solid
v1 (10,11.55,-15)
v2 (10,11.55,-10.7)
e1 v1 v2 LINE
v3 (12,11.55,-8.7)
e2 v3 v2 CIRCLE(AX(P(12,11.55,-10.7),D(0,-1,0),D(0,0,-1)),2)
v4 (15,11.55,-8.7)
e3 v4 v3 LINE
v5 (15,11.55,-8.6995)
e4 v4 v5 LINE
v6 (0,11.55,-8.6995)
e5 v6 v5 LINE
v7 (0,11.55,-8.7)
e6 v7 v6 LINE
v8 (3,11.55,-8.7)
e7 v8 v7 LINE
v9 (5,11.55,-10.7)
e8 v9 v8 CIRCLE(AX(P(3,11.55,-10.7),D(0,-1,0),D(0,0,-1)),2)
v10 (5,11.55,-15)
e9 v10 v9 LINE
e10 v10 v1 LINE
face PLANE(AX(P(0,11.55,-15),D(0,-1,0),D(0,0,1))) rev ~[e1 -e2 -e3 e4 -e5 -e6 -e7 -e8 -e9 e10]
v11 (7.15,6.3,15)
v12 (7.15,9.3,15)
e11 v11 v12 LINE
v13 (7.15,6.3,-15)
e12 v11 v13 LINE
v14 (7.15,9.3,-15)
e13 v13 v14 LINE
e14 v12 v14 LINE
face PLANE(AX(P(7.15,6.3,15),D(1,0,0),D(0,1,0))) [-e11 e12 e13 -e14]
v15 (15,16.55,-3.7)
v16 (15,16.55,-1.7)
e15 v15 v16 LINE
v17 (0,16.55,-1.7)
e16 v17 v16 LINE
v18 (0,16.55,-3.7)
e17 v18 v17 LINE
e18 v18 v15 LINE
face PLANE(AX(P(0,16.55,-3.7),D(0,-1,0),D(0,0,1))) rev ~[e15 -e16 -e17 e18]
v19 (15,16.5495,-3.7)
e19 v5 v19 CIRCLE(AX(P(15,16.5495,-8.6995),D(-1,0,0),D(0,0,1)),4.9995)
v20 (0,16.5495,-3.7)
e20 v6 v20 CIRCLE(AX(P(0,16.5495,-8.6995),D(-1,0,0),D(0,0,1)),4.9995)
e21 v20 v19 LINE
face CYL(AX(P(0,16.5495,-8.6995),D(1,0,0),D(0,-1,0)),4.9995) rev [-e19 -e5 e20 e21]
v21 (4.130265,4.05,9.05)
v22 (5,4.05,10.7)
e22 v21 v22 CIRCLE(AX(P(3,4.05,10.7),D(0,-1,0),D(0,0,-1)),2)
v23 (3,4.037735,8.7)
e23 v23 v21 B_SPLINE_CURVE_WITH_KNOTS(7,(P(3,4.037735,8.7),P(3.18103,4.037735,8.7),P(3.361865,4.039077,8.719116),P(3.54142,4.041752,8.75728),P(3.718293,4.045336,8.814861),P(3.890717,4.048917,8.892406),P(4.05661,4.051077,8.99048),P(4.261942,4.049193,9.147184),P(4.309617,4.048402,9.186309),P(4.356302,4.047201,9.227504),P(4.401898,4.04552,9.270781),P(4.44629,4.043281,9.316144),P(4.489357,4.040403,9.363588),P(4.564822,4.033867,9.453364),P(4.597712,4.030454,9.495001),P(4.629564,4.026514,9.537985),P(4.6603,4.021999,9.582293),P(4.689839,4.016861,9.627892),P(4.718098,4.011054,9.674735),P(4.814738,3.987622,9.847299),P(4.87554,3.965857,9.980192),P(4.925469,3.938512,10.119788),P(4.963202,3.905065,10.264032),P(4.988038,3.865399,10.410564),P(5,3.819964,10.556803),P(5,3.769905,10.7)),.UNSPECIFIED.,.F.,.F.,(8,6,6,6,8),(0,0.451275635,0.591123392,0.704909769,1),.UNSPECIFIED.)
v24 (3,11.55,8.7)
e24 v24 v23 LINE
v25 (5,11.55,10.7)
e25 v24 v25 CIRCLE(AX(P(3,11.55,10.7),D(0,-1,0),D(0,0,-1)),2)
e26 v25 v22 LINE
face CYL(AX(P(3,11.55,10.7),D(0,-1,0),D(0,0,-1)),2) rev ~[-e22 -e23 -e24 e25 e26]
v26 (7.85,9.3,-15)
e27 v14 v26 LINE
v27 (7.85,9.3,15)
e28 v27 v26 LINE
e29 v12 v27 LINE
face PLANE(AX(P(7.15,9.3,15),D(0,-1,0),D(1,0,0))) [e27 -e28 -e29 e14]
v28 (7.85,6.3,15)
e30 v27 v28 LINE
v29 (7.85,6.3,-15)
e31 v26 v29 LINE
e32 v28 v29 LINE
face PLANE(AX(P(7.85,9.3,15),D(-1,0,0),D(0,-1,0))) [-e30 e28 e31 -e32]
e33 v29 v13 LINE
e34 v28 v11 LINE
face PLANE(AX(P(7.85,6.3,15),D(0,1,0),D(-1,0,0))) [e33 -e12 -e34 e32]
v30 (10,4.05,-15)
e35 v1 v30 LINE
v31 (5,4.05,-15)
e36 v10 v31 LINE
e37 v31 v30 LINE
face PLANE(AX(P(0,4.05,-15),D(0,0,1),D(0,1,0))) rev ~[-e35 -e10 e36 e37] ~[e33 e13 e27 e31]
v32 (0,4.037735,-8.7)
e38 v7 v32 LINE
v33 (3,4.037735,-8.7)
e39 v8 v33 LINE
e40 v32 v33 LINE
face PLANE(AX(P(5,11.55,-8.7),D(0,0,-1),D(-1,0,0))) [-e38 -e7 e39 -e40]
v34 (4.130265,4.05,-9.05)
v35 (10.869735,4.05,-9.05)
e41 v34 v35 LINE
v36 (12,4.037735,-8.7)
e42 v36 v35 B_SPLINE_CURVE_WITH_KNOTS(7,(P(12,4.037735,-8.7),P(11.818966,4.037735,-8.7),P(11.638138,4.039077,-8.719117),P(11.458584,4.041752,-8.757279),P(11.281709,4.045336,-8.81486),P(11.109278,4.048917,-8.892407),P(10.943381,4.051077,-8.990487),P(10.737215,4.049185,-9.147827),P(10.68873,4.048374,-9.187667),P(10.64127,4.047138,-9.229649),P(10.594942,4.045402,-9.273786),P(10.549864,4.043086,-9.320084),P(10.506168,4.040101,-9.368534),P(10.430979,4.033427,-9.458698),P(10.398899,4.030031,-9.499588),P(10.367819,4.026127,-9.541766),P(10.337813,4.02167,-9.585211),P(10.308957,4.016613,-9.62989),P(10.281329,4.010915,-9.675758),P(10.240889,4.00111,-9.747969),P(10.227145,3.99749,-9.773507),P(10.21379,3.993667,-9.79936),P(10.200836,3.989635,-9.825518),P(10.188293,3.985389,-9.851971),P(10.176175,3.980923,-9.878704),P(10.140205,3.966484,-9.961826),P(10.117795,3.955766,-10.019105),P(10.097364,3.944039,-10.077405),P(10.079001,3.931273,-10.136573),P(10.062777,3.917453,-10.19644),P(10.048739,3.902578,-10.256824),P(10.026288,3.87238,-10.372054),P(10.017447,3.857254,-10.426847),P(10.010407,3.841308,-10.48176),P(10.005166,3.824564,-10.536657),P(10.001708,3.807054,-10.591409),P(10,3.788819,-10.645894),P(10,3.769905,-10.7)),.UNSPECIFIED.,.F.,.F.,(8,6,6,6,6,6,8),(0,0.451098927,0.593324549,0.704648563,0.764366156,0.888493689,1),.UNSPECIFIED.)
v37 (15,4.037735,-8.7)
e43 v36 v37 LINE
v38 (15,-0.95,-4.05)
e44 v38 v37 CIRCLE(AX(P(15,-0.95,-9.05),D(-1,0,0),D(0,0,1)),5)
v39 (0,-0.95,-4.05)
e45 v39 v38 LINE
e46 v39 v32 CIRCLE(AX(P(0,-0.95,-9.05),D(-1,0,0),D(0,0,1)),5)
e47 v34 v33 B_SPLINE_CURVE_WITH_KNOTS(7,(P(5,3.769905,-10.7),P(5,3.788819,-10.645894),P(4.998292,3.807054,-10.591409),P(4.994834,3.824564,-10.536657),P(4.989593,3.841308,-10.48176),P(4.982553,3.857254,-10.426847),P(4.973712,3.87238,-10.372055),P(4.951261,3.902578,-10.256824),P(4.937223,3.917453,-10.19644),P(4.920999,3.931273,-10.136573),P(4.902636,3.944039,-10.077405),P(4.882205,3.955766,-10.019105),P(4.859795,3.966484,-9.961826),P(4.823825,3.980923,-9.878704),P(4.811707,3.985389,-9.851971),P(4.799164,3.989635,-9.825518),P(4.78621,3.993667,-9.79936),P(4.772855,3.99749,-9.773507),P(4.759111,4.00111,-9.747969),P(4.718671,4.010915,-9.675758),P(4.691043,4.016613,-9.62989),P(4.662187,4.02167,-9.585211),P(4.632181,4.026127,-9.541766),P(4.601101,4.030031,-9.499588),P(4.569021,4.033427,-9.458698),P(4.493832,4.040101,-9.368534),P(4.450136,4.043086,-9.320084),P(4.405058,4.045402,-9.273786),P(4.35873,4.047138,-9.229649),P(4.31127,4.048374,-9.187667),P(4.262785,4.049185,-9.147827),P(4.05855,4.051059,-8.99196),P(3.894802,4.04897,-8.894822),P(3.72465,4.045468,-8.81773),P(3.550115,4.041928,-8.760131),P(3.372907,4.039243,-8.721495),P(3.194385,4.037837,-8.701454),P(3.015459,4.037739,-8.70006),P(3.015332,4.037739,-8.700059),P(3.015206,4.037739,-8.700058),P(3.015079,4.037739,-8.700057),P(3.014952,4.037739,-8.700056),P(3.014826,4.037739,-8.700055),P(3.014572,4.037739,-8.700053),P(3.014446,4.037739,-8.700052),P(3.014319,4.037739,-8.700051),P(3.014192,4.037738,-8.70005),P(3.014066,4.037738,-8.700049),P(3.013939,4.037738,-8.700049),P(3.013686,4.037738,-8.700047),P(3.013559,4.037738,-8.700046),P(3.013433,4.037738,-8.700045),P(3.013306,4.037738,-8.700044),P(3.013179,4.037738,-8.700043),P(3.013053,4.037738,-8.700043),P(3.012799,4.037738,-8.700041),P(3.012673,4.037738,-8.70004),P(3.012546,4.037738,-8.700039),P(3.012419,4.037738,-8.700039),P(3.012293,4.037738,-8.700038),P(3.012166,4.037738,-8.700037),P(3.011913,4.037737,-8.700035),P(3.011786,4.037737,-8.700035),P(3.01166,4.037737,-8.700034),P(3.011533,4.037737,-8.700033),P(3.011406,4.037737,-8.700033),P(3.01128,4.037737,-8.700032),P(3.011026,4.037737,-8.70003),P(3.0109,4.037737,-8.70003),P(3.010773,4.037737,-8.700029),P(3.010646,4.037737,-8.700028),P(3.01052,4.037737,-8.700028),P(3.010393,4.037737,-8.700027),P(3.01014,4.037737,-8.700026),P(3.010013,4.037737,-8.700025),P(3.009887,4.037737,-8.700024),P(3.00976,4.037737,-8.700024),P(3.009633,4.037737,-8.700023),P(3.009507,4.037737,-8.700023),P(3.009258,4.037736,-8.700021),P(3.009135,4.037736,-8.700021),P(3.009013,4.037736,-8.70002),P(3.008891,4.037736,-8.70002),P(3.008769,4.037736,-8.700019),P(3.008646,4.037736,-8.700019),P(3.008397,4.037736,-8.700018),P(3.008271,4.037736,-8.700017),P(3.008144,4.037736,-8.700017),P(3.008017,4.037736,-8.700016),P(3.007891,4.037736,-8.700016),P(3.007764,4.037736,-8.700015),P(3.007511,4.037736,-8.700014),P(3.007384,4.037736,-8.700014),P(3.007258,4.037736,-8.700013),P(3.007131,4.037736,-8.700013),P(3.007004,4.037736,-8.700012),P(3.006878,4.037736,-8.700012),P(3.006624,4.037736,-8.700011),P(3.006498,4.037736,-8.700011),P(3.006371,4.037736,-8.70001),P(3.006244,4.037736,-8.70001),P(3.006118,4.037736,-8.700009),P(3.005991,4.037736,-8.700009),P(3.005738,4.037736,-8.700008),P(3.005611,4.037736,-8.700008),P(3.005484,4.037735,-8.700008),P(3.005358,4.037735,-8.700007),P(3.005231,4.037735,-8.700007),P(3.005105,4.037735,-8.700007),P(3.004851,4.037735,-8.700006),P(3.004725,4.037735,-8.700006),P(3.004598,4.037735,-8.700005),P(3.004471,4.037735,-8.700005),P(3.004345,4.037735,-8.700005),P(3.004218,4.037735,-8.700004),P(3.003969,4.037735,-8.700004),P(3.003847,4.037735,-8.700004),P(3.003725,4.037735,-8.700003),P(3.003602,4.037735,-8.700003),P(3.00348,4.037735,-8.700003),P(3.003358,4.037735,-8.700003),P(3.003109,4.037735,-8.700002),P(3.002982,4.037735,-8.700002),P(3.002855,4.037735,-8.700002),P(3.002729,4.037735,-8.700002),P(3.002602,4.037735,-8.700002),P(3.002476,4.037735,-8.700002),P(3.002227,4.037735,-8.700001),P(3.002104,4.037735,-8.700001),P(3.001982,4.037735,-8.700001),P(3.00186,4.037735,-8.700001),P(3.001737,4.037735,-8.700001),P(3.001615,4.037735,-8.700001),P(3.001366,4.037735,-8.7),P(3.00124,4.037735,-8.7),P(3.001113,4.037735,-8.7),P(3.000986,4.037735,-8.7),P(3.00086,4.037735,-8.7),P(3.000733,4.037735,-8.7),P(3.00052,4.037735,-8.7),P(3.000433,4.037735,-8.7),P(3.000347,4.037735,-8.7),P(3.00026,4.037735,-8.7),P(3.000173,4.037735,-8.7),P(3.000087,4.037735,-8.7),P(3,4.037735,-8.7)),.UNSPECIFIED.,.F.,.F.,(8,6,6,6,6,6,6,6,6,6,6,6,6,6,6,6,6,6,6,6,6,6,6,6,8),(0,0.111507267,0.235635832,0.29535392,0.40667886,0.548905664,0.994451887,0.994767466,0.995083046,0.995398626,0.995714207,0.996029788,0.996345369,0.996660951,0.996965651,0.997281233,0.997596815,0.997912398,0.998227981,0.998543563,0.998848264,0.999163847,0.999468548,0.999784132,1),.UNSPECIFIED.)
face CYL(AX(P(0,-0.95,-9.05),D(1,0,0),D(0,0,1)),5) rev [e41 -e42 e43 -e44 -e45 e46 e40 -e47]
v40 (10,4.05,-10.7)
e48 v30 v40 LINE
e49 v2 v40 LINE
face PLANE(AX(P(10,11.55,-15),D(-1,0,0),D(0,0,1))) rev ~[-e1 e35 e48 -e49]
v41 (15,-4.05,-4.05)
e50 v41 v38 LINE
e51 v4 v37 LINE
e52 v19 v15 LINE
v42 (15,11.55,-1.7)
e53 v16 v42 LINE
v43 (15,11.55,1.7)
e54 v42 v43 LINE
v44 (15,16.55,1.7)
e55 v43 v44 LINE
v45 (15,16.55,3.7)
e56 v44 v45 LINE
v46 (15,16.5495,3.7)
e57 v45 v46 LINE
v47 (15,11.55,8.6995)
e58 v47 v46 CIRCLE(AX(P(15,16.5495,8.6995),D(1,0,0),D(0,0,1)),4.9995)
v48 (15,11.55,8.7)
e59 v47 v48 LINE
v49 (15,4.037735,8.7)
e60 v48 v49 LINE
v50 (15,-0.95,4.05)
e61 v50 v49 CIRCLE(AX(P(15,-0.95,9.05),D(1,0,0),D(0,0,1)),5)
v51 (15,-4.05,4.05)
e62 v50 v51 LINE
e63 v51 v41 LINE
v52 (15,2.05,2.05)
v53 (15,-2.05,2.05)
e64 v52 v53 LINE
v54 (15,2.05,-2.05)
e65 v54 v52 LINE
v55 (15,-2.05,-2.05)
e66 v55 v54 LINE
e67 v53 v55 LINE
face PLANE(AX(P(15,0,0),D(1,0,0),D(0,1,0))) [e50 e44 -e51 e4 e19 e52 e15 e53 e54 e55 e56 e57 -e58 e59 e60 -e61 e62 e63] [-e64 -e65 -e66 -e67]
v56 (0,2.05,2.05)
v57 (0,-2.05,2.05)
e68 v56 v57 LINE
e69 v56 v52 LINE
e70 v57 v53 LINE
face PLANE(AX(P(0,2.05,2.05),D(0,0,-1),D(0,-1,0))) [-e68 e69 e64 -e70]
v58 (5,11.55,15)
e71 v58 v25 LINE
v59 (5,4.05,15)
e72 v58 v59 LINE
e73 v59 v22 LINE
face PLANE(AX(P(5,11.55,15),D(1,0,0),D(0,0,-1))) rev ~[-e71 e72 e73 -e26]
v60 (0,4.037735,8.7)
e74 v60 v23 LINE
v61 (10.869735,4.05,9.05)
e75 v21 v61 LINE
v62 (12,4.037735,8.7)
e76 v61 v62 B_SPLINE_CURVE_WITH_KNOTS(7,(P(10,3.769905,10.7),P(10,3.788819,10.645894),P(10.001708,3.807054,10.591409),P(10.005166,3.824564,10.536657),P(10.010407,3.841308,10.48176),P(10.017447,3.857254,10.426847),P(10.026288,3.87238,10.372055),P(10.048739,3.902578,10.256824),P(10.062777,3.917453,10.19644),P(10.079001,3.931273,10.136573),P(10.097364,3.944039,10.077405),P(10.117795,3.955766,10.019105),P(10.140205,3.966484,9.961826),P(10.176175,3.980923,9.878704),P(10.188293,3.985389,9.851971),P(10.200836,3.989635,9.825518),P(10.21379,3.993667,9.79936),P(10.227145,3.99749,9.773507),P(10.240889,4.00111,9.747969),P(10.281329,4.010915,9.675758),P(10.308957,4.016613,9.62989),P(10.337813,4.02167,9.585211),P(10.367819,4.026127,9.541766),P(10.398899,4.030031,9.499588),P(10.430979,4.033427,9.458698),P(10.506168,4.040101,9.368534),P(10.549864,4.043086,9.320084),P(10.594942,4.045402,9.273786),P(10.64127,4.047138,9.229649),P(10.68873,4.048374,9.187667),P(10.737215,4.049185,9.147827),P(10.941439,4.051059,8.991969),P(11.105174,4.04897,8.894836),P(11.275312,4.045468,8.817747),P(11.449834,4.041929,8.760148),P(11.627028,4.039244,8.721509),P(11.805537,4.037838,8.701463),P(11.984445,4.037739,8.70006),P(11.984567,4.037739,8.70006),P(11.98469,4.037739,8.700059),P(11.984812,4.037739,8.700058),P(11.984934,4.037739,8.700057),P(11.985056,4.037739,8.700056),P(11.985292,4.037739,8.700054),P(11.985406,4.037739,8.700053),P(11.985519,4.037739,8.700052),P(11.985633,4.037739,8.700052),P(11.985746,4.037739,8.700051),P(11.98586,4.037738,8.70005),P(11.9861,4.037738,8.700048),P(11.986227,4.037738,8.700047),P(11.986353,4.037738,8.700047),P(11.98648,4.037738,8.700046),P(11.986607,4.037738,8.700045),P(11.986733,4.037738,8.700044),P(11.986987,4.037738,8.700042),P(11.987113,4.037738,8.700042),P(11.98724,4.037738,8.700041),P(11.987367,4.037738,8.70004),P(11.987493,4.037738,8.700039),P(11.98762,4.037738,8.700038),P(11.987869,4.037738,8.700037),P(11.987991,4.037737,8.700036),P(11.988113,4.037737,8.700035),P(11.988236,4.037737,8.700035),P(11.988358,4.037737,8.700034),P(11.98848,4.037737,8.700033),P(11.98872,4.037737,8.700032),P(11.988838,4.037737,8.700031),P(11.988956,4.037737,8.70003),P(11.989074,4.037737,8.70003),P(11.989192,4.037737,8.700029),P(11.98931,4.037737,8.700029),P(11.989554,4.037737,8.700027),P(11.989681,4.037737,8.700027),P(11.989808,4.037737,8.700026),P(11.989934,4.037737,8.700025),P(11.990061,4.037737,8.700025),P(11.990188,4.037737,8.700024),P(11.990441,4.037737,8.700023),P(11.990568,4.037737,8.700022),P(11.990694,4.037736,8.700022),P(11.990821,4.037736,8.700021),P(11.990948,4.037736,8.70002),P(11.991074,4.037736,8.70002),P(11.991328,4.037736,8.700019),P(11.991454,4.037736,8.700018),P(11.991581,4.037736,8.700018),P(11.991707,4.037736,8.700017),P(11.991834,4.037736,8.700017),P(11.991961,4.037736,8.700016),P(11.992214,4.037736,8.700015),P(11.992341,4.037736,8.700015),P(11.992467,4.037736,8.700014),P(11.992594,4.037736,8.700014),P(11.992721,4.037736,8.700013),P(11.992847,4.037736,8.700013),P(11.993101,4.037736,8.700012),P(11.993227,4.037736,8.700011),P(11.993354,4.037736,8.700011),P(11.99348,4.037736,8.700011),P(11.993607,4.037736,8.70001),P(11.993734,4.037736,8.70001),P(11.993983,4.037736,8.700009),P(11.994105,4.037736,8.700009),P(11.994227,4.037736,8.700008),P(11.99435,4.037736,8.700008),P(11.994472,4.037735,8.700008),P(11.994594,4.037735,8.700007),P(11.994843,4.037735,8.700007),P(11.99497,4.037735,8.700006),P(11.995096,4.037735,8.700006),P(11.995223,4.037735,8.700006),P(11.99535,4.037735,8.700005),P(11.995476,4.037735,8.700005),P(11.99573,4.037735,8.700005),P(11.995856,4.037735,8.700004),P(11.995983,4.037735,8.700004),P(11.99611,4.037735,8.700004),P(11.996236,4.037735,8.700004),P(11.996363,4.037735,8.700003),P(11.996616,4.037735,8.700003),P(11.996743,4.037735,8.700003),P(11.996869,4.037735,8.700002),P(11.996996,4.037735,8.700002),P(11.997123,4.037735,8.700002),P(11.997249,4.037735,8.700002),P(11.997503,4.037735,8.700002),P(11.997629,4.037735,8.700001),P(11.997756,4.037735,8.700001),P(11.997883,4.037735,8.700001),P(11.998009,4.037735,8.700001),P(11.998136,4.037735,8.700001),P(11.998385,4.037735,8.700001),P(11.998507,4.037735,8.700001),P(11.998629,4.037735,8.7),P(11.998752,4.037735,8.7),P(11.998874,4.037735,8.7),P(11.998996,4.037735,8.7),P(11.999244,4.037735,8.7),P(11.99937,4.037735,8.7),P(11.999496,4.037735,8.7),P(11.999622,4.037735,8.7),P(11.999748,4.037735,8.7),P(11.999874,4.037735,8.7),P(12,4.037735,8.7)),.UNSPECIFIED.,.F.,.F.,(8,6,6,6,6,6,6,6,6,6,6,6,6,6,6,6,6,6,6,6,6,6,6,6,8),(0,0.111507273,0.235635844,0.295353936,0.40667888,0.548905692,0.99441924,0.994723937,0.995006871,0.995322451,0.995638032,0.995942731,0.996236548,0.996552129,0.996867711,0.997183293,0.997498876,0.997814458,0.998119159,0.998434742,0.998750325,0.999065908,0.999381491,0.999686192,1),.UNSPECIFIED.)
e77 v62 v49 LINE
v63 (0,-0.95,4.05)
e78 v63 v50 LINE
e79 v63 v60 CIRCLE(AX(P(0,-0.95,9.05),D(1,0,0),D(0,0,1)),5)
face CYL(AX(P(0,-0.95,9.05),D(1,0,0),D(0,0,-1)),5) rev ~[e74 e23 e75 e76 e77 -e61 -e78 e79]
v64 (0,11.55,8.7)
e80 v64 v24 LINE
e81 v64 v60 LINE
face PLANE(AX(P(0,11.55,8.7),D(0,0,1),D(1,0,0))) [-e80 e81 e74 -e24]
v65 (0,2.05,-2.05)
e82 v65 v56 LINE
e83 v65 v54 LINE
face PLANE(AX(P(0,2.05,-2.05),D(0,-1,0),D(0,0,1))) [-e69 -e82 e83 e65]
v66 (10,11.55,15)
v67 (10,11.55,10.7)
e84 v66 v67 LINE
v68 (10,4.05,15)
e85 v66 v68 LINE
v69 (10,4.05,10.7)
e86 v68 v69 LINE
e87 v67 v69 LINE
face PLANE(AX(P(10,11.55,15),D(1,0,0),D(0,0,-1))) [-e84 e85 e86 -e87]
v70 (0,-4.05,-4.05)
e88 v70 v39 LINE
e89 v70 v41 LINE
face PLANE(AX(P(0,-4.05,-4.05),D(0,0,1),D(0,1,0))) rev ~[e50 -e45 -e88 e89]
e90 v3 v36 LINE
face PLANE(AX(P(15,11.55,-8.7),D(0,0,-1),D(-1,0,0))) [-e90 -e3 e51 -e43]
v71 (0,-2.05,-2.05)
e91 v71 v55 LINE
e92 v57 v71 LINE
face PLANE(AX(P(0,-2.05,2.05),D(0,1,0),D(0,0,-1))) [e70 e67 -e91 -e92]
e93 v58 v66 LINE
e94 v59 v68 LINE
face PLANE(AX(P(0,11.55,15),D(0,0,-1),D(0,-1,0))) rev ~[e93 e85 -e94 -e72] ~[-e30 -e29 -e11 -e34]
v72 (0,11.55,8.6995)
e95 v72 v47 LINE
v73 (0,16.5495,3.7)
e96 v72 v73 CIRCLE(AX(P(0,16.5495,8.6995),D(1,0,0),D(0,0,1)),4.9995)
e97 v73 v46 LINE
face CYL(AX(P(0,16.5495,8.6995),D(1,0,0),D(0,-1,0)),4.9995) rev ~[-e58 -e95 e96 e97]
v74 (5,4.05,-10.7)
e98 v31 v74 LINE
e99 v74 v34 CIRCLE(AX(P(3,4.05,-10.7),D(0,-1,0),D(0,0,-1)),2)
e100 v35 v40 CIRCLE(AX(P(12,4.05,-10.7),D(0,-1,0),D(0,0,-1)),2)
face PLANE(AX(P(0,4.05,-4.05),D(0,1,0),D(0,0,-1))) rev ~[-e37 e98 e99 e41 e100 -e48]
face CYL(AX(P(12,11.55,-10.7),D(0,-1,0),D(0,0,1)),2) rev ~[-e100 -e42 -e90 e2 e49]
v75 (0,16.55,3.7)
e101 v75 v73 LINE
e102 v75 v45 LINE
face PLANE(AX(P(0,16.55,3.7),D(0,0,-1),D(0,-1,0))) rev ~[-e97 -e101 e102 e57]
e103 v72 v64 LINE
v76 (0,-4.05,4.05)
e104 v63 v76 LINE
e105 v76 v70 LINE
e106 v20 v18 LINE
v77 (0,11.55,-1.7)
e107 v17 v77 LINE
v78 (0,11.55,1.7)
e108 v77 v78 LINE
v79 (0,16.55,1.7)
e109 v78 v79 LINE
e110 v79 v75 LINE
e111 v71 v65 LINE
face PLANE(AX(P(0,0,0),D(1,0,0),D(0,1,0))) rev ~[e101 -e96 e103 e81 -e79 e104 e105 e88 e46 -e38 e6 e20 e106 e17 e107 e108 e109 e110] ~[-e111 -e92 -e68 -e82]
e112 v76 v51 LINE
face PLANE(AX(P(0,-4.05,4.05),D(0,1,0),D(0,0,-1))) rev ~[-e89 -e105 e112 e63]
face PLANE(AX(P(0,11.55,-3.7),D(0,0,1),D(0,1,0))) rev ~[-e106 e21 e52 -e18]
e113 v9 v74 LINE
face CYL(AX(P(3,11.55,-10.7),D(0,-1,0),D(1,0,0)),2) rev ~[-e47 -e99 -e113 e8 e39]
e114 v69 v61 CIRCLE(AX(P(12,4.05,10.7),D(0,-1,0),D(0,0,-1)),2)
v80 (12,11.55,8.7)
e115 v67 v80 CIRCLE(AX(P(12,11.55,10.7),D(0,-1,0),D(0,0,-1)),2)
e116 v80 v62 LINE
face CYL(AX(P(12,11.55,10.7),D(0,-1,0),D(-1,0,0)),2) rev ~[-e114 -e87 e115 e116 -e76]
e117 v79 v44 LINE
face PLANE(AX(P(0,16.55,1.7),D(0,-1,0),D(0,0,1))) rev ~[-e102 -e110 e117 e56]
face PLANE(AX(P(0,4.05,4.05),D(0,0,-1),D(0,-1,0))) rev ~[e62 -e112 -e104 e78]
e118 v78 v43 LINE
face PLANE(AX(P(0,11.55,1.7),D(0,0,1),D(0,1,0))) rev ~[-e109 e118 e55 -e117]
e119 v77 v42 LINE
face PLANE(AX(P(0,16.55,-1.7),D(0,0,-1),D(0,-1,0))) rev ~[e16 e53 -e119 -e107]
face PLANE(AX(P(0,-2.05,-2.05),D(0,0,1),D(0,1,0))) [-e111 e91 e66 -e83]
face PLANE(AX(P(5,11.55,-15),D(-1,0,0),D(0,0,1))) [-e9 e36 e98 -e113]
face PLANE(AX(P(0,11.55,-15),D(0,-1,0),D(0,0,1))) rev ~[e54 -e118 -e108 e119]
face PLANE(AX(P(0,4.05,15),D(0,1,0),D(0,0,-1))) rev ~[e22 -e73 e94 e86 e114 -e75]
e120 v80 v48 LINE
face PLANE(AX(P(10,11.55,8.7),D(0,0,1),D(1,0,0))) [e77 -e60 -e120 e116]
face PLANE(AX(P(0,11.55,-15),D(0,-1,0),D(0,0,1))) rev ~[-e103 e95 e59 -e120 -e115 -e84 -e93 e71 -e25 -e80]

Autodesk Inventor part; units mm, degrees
ref_plane "YZ Plane" through (0, 0, 0) normal (1, 0, 0) x (0, 1, 0)
ref_plane "XZ Plane" through (0, 0, 0) normal (0, 1, 0) x (-1, 0, 0)
ref_plane "XY Plane" through (0, 0, 0) normal (0, 0, 1) x (1, 0, 0)
sketch "Sketch1" plane through (0, 0, 0) normal (1, 0, 0) x (0, 1, 0)
  line L0 (4.05, 4.05) -> (-4.05, 4.05)
  line L1 (-4.05, 4.05) -> (-4.05, -4.05)
  line L2 (-4.05, -4.05) -> (4.05, -4.05)
  line L3 (4.05, -4.05) -> (4.05, 4.05)
  line L4 (11.55, 15) -> (4.05, 15)
  line L5 (4.05, 15) -> (4.05, -15)
  line L6 (4.05, -15) -> (11.55, -15)
  line L7 (11.55, -15) -> (11.55, 15)
  line L8 (4.05, 4.05) -> (-4.05, -4.05) construction
  line L9 (4.05, -4.05) -> (-4.05, 4.05) construction
  line L10 (2.05, 2.05) -> (-2.05, 2.05)
  line L11 (-2.05, 2.05) -> (-2.05, -2.05)
  line L12 (-2.05, -2.05) -> (2.05, -2.05)
  line L13 (2.05, -2.05) -> (2.05, 2.05)
  line L14 (2.05, 2.05) -> (-2.05, -2.05) construction
  line L15 (-2.05, 2.05) -> (2.05, -2.05) construction
  point P0 (4.05, 4.05)
  point P1 (0, 0)
  point P2 (0, 0)
  point P3 (0, 0)
  dimension "d0" = 8.1
  dimension "d3" = 8.1
  dimension "d22" = 10.95
  dimension "d24" = 30
  dimension "d25" = 7.5
  dimension "d55" = 10.95
  dimension "d65" = 4.1
  dimension "d66" = 4.1
extrude "Extrusion1" add sketch "Sketch1" along normal blind 15
sketch "Sketch5" plane through (0, 4.05, 15) normal (0, 0, 1) x (1, 0, 0)
  line L0 (7.15, 5.25) -> (7.85, 5.25)
  line L1 (7.85, 5.25) -> (7.85, 2.25)
  line L2 (7.85, 2.25) -> (7.15, 2.25)
  line L3 (7.15, 2.25) -> (7.15, 5.25)
  line L4 (0, 0) -> (15, 0) projected
  line L5 (0, 7.5) -> (0, 0) projected
  point P0 (0, -4.05)
  dimension "d86" = 3
  dimension "d87" = 0.7
  dimension "d88" = 2.25
  dimension "d89" = 7.15
extrude "Extrusion4" cut sketch "Sketch5" against normal through all
fillet "Fillet3" radius 5 2 edges at (7.5, 4.05, 4.05) (7.5, 4.05, -4.05)
sketch "Sketch7" plane through (0, 0, 0) normal (-1, 0, 0) x (0, 0, 1)
  line L0 (3.7, 11.55) -> (1.7, 11.55)
  line L1 (1.7, 11.55) -> (1.7, 16.55)
  line L2 (1.7, 16.55) -> (3.7, 16.55)
  line L3 (3.7, 16.55) -> (3.7, 11.55)
  line L4 (3.7, 11.55) -> (1.7, 16.55) construction
  line L5 (1.7, 11.55) -> (3.7, 16.55) construction
  line L6 (-1.7, 11.55) -> (-3.7, 11.55)
  line L7 (-3.7, 11.55) -> (-3.7, 16.55)
  line L8 (-3.7, 16.55) -> (-1.7, 16.55)
  line L9 (-1.7, 16.55) -> (-1.7, 11.55)
  line L10 (-1.7, 11.55) -> (-3.7, 16.55) construction
  line L11 (-3.7, 11.55) -> (-1.7, 16.55) construction
  line L12 (-15, 11.55) -> (15, 11.55) projected
  point P0 (0, 0)
  point P1 (2.7, 14.05)
  point P2 (-2.7, 14.05)
  dimension "d77" = 5
  dimension "d78" = 2
  dimension "d79" = 2
  dimension "d80" = 3.4
  dimension "d82" = 1.7
extrude "Extrusion5" add sketch "Sketch7" against normal up to surface (15 mm away)
fillet "Fillet4" radius 5 2 edges at (7.5, 11.55, 3.7) (7.5, 11.55, -3.7)
sketch "Sketch8" plane through (0, 11.55, -15) normal (0, 1, 0) x (1, 0, 0)
  line L0 (0, -23.7) -> (15, -23.7) projected
  line L1 (15, -30) -> (10, -30)
  line L2 (10, -30) -> (10, -23.7)
  line L3 (10, -23.7) -> (15, -23.7)
  line L4 (15, -23.7) -> (15, -30)
  line L5 (0, -30) -> (5, -30)
  line L6 (5, -30) -> (5, -23.7)
  line L7 (5, -23.7) -> (0, -23.7)
  line L8 (0, -23.7) -> (0, -30)
  line L9 (0, -5.95) -> (0, 0) projected
  line L10 (0, 0) -> (5, 0)
  line L11 (5, 0) -> (5, -6.3)
  line L12 (5, -6.3) -> (0, -6.3)
  line L13 (0, -6.3) -> (0, 0)
  line L14 (15, -6.3) -> (0, -6.3) projected
  line L15 (15, -5.95) -> (15, 0) projected
  line L16 (10, -6.3) -> (15, -6.3)
  line L17 (15, -6.3) -> (15, 0)
  line L18 (15, 0) -> (10, 0)
  line L19 (10, 0) -> (10, -6.3)
  point P0 (0, -15)
  dimension "d90" = 5
  dimension "d91" = 5
  dimension "d92" = 5
  dimension "d93" = 5
extrude "Extrusion6" cut sketch "Sketch8" against normal blind 10
fillet "Fillet5" radius 2 4 edges at (5, 7.7939, 8.7) (10, 7.7939, 8.7) (10, 7.7939, -8.7) (5, 7.7939, -8.7)
equation "\"d3\" = d0"
equation "\"d22\" = d55"
properties part number "fuselage_wing_interface_v2" material "ABS Plastic"
